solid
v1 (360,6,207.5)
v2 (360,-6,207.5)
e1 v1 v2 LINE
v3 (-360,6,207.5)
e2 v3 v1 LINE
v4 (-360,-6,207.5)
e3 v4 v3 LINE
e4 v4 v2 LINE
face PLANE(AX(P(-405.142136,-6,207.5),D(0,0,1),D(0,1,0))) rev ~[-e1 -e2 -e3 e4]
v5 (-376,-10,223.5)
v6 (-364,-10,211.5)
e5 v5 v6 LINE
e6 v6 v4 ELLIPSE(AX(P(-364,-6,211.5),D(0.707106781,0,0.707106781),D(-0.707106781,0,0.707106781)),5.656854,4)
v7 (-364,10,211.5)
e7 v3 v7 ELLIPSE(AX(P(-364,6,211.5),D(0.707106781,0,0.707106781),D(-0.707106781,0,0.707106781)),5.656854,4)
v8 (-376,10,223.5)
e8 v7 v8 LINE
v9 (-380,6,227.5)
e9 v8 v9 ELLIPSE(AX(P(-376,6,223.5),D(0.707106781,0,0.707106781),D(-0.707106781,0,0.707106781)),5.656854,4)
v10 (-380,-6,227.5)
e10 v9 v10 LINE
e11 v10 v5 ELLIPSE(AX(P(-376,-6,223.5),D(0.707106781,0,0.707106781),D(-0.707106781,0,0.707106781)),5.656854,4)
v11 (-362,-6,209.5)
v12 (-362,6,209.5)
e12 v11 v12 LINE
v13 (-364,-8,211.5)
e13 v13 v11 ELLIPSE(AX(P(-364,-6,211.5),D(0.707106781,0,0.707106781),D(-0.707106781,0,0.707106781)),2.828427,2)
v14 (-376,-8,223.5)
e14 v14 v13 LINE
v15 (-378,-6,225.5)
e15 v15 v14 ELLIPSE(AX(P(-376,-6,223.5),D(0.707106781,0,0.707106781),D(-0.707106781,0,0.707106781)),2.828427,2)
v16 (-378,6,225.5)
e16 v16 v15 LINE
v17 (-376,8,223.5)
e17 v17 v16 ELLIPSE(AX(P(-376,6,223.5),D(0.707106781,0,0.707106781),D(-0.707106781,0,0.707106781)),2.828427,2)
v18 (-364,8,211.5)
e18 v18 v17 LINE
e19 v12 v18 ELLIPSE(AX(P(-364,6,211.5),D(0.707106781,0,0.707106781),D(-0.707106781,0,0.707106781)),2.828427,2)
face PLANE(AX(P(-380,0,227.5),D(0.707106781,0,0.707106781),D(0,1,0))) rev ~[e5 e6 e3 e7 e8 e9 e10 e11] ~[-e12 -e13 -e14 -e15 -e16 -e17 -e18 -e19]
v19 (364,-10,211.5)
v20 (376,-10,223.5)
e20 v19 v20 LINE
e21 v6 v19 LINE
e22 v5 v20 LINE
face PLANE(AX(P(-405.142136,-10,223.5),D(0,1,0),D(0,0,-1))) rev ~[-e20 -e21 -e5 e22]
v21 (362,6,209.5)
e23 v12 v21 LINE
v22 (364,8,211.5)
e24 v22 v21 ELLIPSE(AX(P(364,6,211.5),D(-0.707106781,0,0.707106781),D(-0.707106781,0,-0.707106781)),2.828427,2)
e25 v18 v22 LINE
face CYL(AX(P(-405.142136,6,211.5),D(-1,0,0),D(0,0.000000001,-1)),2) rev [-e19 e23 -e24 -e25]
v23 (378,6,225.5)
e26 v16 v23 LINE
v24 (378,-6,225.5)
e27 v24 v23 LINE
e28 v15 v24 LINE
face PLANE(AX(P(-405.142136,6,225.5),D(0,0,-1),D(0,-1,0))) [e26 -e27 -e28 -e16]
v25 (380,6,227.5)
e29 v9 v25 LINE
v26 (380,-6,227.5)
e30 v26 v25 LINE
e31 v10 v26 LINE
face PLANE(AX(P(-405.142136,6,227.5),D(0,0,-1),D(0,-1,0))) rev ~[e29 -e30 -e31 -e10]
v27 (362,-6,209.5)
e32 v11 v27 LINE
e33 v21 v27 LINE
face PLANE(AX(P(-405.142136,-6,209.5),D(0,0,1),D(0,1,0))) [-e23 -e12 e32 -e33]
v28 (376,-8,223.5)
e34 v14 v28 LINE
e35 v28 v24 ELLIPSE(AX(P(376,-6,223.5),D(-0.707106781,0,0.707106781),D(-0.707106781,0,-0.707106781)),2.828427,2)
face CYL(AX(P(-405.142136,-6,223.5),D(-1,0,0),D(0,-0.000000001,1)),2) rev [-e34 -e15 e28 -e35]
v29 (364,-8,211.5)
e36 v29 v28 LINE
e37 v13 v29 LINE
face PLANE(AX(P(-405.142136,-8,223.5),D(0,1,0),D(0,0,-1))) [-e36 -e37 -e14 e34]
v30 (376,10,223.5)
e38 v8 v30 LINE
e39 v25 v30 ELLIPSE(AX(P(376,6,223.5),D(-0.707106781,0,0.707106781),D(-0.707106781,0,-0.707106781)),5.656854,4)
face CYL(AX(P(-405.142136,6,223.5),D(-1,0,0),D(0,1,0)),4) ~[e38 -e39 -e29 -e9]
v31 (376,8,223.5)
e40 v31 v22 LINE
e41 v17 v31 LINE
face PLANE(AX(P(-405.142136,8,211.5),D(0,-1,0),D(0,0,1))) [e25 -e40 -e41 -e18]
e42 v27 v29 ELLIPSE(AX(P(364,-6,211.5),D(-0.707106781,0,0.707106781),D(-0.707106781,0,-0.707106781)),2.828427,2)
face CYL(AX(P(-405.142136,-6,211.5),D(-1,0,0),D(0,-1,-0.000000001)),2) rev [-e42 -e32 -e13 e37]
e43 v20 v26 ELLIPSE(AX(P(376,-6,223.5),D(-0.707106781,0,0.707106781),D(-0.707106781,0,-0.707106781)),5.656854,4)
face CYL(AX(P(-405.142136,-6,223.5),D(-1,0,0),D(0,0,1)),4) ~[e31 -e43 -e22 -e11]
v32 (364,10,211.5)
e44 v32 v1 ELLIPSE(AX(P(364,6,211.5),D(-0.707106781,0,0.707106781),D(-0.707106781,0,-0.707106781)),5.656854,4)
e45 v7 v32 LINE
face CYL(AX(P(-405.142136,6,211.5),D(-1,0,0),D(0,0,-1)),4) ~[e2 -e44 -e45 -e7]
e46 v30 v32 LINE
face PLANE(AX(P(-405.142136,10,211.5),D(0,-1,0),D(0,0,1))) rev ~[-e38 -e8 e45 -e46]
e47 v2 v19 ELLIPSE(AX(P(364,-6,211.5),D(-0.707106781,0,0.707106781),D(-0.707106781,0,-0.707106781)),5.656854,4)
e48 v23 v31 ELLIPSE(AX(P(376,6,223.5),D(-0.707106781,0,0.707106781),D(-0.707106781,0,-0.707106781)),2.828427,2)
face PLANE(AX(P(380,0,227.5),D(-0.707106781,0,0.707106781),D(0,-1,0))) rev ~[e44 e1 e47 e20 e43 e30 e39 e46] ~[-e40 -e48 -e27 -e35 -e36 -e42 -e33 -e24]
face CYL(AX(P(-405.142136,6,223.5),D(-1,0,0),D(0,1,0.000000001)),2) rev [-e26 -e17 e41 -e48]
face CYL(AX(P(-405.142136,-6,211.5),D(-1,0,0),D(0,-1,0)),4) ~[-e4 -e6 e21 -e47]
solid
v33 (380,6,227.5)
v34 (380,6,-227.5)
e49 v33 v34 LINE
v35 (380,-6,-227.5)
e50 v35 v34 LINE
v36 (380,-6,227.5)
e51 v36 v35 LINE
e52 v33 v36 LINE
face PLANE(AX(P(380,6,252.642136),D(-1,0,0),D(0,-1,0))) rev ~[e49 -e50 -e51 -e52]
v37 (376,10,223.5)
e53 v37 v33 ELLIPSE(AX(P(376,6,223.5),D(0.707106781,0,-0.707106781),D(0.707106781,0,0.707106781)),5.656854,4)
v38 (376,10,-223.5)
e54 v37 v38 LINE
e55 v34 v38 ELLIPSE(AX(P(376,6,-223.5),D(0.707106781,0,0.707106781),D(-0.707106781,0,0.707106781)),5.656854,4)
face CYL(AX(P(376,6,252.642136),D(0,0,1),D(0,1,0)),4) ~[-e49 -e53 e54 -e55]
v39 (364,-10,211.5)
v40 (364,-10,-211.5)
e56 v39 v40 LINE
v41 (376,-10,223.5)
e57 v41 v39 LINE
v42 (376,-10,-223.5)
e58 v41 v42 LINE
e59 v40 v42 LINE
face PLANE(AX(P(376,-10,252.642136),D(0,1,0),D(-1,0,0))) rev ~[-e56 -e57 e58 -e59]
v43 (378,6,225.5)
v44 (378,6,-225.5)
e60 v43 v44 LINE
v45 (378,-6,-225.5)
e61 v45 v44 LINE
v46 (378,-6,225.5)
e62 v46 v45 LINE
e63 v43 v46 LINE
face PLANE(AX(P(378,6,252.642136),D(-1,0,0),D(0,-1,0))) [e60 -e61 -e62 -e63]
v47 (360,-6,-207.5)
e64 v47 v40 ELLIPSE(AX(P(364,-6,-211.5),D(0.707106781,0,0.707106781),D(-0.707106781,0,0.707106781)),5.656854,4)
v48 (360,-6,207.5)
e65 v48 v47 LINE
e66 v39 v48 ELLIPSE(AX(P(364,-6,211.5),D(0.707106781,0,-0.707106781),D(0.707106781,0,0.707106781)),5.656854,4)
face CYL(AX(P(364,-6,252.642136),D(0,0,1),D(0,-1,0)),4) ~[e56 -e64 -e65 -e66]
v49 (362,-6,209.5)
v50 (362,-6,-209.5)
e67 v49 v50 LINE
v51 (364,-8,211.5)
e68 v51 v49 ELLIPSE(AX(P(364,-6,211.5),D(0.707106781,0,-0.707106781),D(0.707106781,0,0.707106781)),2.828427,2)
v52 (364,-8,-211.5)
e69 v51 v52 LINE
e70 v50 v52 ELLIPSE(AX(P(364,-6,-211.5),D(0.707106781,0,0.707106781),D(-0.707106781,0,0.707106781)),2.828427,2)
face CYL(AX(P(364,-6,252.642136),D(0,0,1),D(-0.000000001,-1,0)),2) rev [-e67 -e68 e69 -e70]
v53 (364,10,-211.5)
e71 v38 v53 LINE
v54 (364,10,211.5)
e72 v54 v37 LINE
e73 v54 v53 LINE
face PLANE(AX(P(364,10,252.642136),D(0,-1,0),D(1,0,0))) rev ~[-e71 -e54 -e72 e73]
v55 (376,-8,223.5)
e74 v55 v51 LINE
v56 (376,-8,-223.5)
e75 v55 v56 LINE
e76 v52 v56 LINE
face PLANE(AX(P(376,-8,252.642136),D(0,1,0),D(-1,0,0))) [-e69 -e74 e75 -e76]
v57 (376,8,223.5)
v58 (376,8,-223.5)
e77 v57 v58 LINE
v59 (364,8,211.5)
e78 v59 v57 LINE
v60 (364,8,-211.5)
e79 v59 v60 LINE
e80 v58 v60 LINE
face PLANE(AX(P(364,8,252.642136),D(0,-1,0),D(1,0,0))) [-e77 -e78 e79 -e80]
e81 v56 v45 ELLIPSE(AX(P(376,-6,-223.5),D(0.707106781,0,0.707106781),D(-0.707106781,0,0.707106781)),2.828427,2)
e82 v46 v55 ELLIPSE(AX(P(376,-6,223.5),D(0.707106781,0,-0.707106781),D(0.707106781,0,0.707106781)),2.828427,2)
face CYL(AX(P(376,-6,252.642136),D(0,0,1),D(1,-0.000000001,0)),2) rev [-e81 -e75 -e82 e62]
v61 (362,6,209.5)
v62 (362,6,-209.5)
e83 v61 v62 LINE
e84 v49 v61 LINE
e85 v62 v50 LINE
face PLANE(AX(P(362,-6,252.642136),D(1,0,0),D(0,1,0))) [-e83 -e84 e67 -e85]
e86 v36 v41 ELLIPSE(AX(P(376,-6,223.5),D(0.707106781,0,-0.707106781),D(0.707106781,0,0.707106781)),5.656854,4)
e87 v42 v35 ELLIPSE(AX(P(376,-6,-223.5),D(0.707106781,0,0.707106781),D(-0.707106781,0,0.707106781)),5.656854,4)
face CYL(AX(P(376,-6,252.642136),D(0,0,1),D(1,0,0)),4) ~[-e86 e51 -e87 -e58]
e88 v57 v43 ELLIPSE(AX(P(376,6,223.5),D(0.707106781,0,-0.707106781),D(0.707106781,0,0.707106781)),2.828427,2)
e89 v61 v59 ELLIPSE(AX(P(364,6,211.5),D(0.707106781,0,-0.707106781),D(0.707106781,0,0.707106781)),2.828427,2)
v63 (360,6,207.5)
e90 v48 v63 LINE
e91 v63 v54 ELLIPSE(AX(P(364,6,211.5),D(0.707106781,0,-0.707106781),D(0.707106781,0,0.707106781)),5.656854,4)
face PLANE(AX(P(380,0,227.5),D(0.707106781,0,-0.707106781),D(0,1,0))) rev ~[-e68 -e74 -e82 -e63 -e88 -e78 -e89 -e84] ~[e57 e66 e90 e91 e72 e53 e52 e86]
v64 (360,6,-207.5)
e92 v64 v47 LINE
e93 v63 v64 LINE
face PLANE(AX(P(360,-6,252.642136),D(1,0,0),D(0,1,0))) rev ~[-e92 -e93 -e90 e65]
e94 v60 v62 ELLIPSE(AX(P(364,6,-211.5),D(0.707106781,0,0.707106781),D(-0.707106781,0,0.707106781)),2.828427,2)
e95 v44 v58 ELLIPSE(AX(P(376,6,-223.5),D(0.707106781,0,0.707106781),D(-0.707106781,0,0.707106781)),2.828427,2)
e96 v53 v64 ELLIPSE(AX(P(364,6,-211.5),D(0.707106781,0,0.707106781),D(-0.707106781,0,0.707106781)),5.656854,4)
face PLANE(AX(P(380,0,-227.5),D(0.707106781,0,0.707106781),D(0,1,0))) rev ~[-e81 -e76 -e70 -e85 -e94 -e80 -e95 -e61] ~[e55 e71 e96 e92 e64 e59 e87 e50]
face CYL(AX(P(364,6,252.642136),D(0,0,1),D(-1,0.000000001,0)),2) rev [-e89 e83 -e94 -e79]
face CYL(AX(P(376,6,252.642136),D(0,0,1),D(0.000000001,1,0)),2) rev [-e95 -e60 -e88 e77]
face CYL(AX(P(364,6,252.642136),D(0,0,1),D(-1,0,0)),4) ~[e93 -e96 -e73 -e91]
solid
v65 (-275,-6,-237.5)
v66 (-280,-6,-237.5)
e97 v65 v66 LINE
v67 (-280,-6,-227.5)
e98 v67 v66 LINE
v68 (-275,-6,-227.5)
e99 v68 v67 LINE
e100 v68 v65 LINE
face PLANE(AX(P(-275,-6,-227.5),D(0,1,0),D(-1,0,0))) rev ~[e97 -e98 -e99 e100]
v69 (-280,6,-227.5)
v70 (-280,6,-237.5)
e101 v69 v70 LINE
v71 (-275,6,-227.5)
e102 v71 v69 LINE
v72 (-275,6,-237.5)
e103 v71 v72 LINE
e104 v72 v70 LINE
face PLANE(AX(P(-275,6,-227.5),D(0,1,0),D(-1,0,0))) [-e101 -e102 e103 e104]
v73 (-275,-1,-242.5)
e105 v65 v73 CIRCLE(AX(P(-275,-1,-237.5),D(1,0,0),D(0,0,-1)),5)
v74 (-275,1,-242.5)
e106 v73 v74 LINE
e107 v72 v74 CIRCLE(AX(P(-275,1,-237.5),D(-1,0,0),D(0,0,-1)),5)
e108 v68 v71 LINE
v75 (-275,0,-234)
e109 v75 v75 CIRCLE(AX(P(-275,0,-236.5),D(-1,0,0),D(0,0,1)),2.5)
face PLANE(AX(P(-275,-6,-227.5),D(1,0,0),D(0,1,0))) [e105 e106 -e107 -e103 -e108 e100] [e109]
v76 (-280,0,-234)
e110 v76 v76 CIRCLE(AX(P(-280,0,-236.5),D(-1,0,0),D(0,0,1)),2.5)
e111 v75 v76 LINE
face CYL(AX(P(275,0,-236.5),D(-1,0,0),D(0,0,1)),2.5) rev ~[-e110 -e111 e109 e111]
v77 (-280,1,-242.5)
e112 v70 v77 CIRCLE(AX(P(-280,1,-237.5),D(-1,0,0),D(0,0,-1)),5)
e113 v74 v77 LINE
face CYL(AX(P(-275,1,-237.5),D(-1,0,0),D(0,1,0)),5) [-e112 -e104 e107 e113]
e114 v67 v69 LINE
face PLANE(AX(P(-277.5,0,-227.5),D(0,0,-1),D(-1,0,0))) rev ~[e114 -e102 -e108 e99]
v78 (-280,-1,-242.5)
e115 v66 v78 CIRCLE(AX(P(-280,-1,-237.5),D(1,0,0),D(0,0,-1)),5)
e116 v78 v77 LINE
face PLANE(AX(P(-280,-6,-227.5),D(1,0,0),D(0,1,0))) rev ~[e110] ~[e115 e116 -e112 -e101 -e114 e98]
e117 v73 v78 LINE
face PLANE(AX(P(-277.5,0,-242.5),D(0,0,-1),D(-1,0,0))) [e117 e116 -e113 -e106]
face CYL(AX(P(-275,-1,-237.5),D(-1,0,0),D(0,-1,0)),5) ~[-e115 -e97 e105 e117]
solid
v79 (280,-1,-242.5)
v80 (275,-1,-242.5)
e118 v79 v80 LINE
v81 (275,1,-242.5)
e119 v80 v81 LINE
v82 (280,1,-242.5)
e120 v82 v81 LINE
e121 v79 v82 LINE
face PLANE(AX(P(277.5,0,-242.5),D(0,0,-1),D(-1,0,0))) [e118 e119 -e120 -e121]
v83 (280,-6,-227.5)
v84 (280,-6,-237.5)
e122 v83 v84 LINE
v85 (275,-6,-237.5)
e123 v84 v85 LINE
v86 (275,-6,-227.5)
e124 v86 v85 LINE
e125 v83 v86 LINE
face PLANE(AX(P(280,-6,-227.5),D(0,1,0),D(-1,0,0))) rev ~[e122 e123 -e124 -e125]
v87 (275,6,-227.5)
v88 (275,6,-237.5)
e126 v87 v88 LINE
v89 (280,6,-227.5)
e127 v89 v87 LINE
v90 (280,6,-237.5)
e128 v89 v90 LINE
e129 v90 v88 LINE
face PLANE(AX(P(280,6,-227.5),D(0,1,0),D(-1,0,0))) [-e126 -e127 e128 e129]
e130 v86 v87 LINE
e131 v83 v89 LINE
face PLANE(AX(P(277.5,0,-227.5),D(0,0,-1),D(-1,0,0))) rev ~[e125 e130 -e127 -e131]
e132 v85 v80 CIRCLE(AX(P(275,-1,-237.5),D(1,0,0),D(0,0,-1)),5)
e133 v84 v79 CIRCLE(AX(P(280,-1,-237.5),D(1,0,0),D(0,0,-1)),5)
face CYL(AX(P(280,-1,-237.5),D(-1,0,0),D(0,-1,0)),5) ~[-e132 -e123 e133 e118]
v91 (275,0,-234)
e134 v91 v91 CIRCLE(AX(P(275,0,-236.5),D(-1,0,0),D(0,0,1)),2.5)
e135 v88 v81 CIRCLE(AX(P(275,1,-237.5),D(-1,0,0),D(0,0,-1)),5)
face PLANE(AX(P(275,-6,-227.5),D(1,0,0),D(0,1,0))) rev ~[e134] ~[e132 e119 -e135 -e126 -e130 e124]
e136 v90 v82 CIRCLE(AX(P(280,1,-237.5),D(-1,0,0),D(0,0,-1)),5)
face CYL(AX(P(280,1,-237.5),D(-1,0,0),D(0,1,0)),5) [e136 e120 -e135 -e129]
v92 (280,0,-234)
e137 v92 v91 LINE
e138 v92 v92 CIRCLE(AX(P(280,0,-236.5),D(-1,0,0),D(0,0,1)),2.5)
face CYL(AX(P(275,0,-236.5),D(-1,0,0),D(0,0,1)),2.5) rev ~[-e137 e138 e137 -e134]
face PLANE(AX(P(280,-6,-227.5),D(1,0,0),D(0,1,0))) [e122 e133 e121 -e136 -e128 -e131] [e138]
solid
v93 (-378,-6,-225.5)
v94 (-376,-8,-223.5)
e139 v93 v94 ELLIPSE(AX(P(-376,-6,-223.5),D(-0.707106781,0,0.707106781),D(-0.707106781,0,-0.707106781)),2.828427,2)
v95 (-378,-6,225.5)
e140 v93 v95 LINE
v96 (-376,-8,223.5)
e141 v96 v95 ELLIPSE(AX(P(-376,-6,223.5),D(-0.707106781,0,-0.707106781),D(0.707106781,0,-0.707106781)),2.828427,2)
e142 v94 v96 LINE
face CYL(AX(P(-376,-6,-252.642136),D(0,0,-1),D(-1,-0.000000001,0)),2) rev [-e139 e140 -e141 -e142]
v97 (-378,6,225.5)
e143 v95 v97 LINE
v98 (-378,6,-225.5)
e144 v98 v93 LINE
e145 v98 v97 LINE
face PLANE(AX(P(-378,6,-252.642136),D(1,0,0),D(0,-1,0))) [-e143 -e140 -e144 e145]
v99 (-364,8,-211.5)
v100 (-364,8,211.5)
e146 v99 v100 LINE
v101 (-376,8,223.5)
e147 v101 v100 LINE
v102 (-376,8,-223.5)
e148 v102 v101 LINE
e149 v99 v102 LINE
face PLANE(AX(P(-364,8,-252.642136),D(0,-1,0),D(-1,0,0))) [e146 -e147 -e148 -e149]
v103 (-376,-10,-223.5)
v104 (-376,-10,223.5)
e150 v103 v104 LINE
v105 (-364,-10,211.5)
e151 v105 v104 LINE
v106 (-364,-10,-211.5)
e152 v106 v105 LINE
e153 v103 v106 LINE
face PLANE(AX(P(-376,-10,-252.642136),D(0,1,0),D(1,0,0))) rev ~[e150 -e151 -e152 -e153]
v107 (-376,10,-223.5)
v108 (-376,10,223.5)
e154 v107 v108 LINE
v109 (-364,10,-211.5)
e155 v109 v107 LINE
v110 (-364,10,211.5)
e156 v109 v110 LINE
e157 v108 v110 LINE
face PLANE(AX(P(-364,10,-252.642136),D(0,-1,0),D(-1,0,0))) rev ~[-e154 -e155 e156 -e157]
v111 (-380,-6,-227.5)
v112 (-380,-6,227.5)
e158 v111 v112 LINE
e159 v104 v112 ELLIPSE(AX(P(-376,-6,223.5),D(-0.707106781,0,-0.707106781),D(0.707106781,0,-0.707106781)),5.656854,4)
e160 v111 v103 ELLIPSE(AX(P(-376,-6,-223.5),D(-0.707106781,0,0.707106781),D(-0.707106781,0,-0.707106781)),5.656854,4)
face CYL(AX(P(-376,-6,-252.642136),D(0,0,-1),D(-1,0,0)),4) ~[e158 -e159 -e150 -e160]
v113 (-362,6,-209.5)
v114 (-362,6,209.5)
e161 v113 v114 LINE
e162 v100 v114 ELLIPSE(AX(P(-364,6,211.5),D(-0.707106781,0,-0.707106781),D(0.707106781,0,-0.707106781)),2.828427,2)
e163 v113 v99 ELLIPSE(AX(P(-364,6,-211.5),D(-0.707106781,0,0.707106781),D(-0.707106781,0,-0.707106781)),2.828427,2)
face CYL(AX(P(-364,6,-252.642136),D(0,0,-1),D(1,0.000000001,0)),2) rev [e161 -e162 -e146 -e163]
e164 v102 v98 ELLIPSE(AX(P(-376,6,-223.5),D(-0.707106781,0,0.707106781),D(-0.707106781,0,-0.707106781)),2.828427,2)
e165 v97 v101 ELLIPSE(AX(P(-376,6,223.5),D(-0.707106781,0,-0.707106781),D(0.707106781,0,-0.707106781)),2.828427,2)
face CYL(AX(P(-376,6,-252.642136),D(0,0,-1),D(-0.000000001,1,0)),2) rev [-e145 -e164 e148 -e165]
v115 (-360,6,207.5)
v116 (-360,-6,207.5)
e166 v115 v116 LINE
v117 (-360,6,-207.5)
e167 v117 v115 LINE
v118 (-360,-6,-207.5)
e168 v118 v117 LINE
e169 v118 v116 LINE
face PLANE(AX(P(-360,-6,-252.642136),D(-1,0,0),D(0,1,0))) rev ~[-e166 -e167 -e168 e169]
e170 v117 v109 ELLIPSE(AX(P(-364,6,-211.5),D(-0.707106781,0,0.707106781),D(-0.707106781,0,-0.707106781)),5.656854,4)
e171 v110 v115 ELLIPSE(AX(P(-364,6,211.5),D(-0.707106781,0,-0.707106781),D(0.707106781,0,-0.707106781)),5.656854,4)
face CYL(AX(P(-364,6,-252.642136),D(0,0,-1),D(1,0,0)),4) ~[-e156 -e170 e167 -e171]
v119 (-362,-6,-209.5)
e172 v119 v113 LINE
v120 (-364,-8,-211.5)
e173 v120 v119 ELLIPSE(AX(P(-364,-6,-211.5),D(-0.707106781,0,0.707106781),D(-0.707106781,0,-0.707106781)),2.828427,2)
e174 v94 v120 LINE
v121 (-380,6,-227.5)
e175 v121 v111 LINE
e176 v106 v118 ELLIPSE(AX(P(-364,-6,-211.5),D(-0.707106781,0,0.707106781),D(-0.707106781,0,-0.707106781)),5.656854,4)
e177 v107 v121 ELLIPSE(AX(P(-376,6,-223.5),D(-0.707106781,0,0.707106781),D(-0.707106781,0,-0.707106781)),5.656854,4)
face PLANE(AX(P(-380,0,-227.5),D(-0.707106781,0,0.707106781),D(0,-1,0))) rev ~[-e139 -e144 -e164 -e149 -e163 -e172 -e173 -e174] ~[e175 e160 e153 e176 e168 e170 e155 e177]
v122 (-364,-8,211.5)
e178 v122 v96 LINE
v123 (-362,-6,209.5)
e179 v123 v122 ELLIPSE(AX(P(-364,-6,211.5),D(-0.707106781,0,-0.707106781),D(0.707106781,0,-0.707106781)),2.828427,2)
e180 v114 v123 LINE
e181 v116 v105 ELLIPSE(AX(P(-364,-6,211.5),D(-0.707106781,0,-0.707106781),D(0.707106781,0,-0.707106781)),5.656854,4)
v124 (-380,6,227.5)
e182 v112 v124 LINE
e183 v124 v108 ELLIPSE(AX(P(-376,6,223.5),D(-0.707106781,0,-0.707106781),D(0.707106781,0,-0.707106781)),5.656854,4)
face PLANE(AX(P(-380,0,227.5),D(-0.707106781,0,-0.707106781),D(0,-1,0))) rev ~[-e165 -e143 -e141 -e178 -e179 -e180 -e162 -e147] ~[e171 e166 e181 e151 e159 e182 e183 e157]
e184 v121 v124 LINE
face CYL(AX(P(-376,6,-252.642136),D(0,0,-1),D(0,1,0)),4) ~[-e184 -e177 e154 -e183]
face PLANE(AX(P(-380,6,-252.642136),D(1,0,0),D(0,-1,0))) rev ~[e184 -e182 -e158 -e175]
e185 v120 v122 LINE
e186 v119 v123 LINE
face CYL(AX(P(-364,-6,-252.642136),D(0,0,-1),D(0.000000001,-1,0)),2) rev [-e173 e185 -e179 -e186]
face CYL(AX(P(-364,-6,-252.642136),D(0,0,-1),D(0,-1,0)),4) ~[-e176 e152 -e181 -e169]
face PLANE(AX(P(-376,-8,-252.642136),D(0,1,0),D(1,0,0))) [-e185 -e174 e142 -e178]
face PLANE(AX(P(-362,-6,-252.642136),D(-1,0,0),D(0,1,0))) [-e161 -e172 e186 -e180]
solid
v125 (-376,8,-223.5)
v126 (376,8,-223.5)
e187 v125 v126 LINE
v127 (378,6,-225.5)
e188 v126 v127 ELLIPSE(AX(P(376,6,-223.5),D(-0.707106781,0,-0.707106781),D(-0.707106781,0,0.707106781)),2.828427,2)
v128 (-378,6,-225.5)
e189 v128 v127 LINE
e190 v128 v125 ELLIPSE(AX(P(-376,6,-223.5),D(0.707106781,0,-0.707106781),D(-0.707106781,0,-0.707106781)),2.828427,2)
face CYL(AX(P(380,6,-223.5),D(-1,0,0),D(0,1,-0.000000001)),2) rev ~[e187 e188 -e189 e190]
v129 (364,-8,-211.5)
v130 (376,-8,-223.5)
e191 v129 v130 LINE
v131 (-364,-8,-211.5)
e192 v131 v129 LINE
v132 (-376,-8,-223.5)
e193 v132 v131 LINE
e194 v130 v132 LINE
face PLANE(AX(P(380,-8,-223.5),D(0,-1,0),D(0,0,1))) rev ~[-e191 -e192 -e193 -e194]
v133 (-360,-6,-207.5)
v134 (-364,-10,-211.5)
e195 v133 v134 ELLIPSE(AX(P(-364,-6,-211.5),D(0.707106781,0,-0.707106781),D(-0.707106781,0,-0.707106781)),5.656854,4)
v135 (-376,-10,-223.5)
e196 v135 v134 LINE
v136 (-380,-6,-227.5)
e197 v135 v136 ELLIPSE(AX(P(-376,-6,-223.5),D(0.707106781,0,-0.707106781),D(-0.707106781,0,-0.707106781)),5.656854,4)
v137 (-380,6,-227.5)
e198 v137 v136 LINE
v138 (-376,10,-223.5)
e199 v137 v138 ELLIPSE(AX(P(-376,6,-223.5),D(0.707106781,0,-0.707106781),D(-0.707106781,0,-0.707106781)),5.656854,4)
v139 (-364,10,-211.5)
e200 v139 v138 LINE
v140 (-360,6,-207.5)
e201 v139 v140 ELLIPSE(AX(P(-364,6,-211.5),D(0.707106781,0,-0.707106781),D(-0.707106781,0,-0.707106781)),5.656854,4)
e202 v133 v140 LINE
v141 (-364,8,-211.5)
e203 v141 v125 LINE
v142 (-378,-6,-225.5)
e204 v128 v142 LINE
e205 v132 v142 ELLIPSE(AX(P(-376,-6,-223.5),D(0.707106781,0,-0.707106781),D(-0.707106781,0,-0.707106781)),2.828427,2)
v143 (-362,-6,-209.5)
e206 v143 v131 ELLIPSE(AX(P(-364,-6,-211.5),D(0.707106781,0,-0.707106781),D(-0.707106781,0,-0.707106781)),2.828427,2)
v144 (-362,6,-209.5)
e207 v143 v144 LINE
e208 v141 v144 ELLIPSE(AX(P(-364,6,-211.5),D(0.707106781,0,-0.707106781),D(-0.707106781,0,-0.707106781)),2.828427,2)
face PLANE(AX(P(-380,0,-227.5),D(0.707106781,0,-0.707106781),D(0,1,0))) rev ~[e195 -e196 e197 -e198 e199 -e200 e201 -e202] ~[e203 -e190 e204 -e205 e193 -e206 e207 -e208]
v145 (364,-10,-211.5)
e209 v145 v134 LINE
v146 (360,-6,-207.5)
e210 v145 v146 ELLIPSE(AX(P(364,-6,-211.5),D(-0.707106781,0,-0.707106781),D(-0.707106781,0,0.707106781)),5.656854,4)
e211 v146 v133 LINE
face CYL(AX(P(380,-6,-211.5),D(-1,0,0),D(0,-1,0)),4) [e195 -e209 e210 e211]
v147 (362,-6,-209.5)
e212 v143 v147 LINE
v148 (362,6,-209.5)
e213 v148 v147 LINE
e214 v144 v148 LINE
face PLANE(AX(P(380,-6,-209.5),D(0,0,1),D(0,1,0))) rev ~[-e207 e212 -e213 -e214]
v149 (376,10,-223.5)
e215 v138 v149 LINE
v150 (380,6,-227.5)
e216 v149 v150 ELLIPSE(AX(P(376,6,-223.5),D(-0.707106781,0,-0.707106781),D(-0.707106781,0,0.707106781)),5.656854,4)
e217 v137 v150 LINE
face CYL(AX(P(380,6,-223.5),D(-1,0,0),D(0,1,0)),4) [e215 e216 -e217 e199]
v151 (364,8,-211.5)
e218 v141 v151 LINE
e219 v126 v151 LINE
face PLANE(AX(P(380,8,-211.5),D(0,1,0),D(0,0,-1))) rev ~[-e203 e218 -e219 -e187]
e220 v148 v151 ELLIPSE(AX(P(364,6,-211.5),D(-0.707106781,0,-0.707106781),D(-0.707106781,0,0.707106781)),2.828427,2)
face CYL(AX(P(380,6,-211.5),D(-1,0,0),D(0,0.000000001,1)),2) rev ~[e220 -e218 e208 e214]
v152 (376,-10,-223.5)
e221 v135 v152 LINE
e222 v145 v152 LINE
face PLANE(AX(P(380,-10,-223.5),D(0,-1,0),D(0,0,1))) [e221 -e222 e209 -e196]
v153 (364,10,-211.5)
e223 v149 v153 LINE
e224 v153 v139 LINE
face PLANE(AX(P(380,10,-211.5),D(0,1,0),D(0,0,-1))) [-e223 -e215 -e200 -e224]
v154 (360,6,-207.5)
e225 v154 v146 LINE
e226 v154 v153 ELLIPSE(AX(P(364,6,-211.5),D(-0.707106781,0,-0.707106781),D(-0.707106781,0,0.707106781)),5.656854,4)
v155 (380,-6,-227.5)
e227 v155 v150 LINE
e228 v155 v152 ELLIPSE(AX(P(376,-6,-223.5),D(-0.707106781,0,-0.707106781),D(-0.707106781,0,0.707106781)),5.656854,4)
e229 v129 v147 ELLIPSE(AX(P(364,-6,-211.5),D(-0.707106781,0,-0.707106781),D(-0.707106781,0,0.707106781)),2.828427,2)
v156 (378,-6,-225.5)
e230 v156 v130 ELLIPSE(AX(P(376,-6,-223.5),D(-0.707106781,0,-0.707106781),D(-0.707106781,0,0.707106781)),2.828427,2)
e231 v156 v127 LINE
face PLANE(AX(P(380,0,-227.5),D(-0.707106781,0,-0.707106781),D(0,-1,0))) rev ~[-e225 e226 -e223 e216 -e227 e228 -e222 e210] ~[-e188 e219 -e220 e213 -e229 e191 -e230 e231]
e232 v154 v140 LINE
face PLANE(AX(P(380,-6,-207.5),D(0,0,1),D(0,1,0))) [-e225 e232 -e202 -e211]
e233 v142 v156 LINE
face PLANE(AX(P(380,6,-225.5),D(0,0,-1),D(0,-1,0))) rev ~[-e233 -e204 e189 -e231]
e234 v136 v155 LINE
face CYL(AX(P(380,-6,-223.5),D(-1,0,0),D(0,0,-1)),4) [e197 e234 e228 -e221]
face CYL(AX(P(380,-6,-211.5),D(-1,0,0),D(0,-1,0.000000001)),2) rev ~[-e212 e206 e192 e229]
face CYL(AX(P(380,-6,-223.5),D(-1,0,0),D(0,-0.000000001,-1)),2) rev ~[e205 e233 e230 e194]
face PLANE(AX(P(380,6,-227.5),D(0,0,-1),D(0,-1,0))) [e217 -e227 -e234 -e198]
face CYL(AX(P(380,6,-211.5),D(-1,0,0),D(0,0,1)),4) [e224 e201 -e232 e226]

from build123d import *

# Parameters (mm, degrees)
SQUARE_TUBE_CONFIGURED_20_X_20_X_2_1_DEPTH      = 785.142135624
SQUARE_TUBE_CONFIGURED_20_X_20_X_2_1_DEPTH_BACK = 25.142135624
SQUARE_TUBE_CONFIGURED_20_X_20_X_2_1_2_DEPTH    = 505.284271247
SQUARE_TUBE_CONFIGURED_20_X_20_X_2_1_3_DEPTH    = 810.284271247
SQUARE_TUBE_CONFIGURED_20_X_20_X_2_1_4_DEPTH    = 505.284271247
SKETCH12_W                                      = 5
SKETCH12_H                                      = 12
BOSS_EXTRUDE1_DEPTH                             = 15
BOSS_EXTRUDE1_2_DEPTH                           = 15
FILLET1_R                                       = 5
FILLET2_R                                       = 5
SKETCH13_R                                      = 2.5
CUT_EXTRUDE1_DEPTH                              = 699.52075846
CUT_EXTRUDE1_DEPTH_BACK                         = 699.52075846


with BuildPart() as part:
    # Sketch11 → Square tube - configured 20 X 20 X 2(1) (new, two sides)
    with BuildSketch(Plane(origin=(380, 0, -217.5), x_dir=(0, 0, 1), z_dir=(-1, 0, 0))) as square_tube_configured_20_x_20_x_2_1_sk:
        with BuildLine():
            Line((-6, -10), (6, -10))
            ThreePointArc((6, -10), (8.828427125, -8.828427125), (10, -6))
            Line((10, -6), (10, 6))
            ThreePointArc((10, 6), (8.828427125, 8.828427125), (6, 10))
            Line((6, 10), (-6, 10))
            ThreePointArc((-6, 10), (-8.828427125, 8.828427125), (-10, 6))
            Line((-10, 6), (-10, -6))
            ThreePointArc((-10, -6), (-8.828427125, -8.828427125), (-6, -10))
        make_face()
        with BuildLine():
            Line((-6, -8), (6, -8))
            ThreePointArc((6, -8), (7.414213562, -7.414213562), (8, -6))
            Line((8, -6), (8, 6))
            ThreePointArc((8, 6), (7.414213562, 7.414213562), (6, 8))
            Line((6, 8), (-6, 8))
            ThreePointArc((-6, 8), (-7.414213562, 7.414213562), (-8, 6))
            Line((-8, 6), (-8, -6))
            ThreePointArc((-8, -6), (-7.414213562, -7.414213562), (-6, -8))
        make_face(mode=Mode.SUBTRACT)
    extrude(amount=SQUARE_TUBE_CONFIGURED_20_X_20_X_2_1_DEPTH)
    extrude(square_tube_configured_20_x_20_x_2_1_sk.sketch, amount=-SQUARE_TUBE_CONFIGURED_20_X_20_X_2_1_DEPTH_BACK)

    # Square tube - configured 20 X 20 X 2(1) m
    split(bisect_by=Plane(origin=(380, 0, -227.5), x_dir=(0, -1, 0), z_dir=(-0.707106781, 0, -0.707106781)), keep=Keep.TOP)

    # Square tube - configured 20 X 20 X 2 2
    split(bisect_by=Plane(origin=(-380, 0, -227.5), x_dir=(0, 1, 0), z_dir=(0.707106781, 0, -0.707106781)), keep=Keep.TOP)


with BuildPart() as body_2:
    # Sketch11 on segment 2 (carried to segment 2) → Square tube - configured 20 X 20 X 2_1 2 (new body)
    with BuildSketch(Plane(origin=(-370, 0, -252.642135624), x_dir=(1, 0, 0), z_dir=(0, 0, 1))):
        with BuildLine():
            Line((-6, -10), (6, -10))
            ThreePointArc((6, -10), (8.828427125, -8.828427125), (10, -6))
            Line((10, -6), (10, 6))
            ThreePointArc((10, 6), (8.828427125, 8.828427125), (6, 10))
            Line((6, 10), (-6, 10))
            ThreePointArc((-6, 10), (-8.828427125, 8.828427125), (-10, 6))
            Line((-10, 6), (-10, -6))
            ThreePointArc((-10, -6), (-8.828427125, -8.828427125), (-6, -10))
        make_face()
        with BuildLine():
            Line((-6, -8), (6, -8))
            ThreePointArc((6, -8), (7.414213562, -7.414213562), (8, -6))
            Line((8, -6), (8, 6))
            ThreePointArc((8, 6), (7.414213562, 7.414213562), (6, 8))
            Line((6, 8), (-6, 8))
            ThreePointArc((-6, 8), (-7.414213562, 7.414213562), (-8, 6))
            Line((-8, 6), (-8, -6))
            ThreePointArc((-8, -6), (-7.414213562, -7.414213562), (-6, -8))
        make_face(mode=Mode.SUBTRACT)
    extrude(amount=SQUARE_TUBE_CONFIGURED_20_X_20_X_2_1_2_DEPTH)

    # Square tube - configured 20 X 20 X 2 3
    split(bisect_by=Plane(origin=(-380, 0, 227.5), x_dir=(0, -1, 0), z_dir=(-0.707106781, 0, -0.707106781)), keep=Keep.TOP)

    # Square tube - configured 20 X 20 X 2 4
    split(bisect_by=Plane(origin=(-380, 0, -227.5), x_dir=(0, -1, 0), z_dir=(-0.707106781, 0, 0.707106781)), keep=Keep.TOP)


with BuildPart() as body_3:
    # Sketch11 on segment 3 (carried to segment 3) → Square tube - configured 20 X 20 X 2_1 3 (new body)
    with BuildSketch(Plane(origin=(-405.142135624, 0, 217.5), x_dir=(0, 0, -1), z_dir=(1, 0, 0))):
        with BuildLine():
            Line((-6, -10), (6, -10))
            ThreePointArc((6, -10), (8.828427125, -8.828427125), (10, -6))
            Line((10, -6), (10, 6))
            ThreePointArc((10, 6), (8.828427125, 8.828427125), (6, 10))
            Line((6, 10), (-6, 10))
            ThreePointArc((-6, 10), (-8.828427125, 8.828427125), (-10, 6))
            Line((-10, 6), (-10, -6))
            ThreePointArc((-10, -6), (-8.828427125, -8.828427125), (-6, -10))
        make_face()
        with BuildLine():
            Line((-6, -8), (6, -8))
            ThreePointArc((6, -8), (7.414213562, -7.414213562), (8, -6))
            Line((8, -6), (8, 6))
            ThreePointArc((8, 6), (7.414213562, 7.414213562), (6, 8))
            Line((6, 8), (-6, 8))
            ThreePointArc((-6, 8), (-7.414213562, 7.414213562), (-8, 6))
            Line((-8, 6), (-8, -6))
            ThreePointArc((-8, -6), (-7.414213562, -7.414213562), (-6, -8))
        make_face(mode=Mode.SUBTRACT)
    extrude(amount=SQUARE_TUBE_CONFIGURED_20_X_20_X_2_1_3_DEPTH)

    # Square tube - configured 20 X 20 X 2 5
    split(bisect_by=Plane(origin=(380, 0, 227.5), x_dir=(0, -1, 0), z_dir=(-0.707106781, 0, 0.707106781)), keep=Keep.TOP)

    # Square tube - configured 20 X 20 X 2 6
    split(bisect_by=Plane(origin=(-380, 0, 227.5), x_dir=(0, 1, 0), z_dir=(0.707106781, 0, 0.707106781)), keep=Keep.TOP)


with BuildPart() as body_4:
    # Sketch11 on segment 4 (carried to segment 4) → Square tube - configured 20 X 20 X 2_1 4 (new body)
    with BuildSketch(Plane(origin=(370, 0, 252.642135624), x_dir=(-1, 0, 0), z_dir=(0, 0, -1))):
        with BuildLine():
            Line((-6, -10), (6, -10))
            ThreePointArc((6, -10), (8.828427125, -8.828427125), (10, -6))
            Line((10, -6), (10, 6))
            ThreePointArc((10, 6), (8.828427125, 8.828427125), (6, 10))
            Line((6, 10), (-6, 10))
            ThreePointArc((-6, 10), (-8.828427125, 8.828427125), (-10, 6))
            Line((-10, 6), (-10, -6))
            ThreePointArc((-10, -6), (-8.828427125, -8.828427125), (-6, -10))
        make_face()
        with BuildLine():
            Line((-6, -8), (6, -8))
            ThreePointArc((6, -8), (7.414213562, -7.414213562), (8, -6))
            Line((8, -6), (8, 6))
            ThreePointArc((8, 6), (7.414213562, 7.414213562), (6, 8))
            Line((6, 8), (-6, 8))
            ThreePointArc((-6, 8), (-7.414213562, 7.414213562), (-8, 6))
            Line((-8, 6), (-8, -6))
            ThreePointArc((-8, -6), (-7.414213562, -7.414213562), (-6, -8))
        make_face(mode=Mode.SUBTRACT)
    extrude(amount=SQUARE_TUBE_CONFIGURED_20_X_20_X_2_1_4_DEPTH)

    # Square tube - configured 20 X 20 X 2 7
    split(bisect_by=Plane(origin=(380, 0, 227.5), x_dir=(0, 1, 0), z_dir=(0.707106781, 0, -0.707106781)), keep=Keep.TOP)

    # Square tube - configured 20 X 20 X 2 8
    split(bisect_by=Plane(origin=(380, 0, -227.5), x_dir=(0, 1, 0), z_dir=(0.707106781, 0, 0.707106781)), keep=Keep.TOP)


with BuildPart() as body_5:
    # Sketch12 → Boss-Extrude1 (new body)
    with BuildSketch(Plane(origin=(0, 0, -227.5), x_dir=(-1, 0, 0), z_dir=(0, 0, -1))):
        with Locations((-277.5, 0)):
            Rectangle(SKETCH12_W, SKETCH12_H)
    extrude(amount=BOSS_EXTRUDE1_DEPTH)

    # Fillet1
    fillet1_edges = [body_5.edges().sort_by_distance(p)[0] for p in [
        (277.5, 6, -242.5),
        (277.5, -6, -242.5),
    ]]
    fillet(fillet1_edges, radius=FILLET1_R)


with BuildPart() as body_6:
    # Sketch12 → Boss-Extrude1 2 (new body)
    with BuildSketch(Plane(origin=(0, 0, -227.5), x_dir=(-1, 0, 0), z_dir=(0, 0, -1))):
        with Locations((277.5, 0)):
            Rectangle(SKETCH12_W, SKETCH12_H)
    extrude(amount=BOSS_EXTRUDE1_2_DEPTH)

    # Fillet2
    fillet2_edges = [body_6.edges().sort_by_distance(p)[0] for p in [
        (-277.5, -6, -242.5),
        (-277.5, 6, -242.5),
    ]]
    fillet(fillet2_edges, radius=FILLET2_R)


with BuildPart() as cut_extrude1_tool:
    # Sketch13 → Cut-Extrude1 (new, two sides)
    with BuildSketch(Plane.ZY.offset(-275)) as cut_extrude1_sk:
        with Locations((-236.5, 0)):
            Circle(SKETCH13_R)
    extrude(amount=CUT_EXTRUDE1_DEPTH)
    extrude(cut_extrude1_sk.sketch, amount=-CUT_EXTRUDE1_DEPTH_BACK)


with BuildPart() as body_5_1:
    add(body_5.part)

    # Cut-Extrude1: cut by cut_extrude1_tool
    add(cut_extrude1_tool.part, mode=Mode.SUBTRACT)


with BuildPart() as body_6_1:
    add(body_6.part)

    # Cut-Extrude1: cut by cut_extrude1_tool
    add(cut_extrude1_tool.part, mode=Mode.SUBTRACT)


solid = Compound([part.part, body_2.part, body_3.part, body_4.part, body_5_1.part, body_6_1.part])
